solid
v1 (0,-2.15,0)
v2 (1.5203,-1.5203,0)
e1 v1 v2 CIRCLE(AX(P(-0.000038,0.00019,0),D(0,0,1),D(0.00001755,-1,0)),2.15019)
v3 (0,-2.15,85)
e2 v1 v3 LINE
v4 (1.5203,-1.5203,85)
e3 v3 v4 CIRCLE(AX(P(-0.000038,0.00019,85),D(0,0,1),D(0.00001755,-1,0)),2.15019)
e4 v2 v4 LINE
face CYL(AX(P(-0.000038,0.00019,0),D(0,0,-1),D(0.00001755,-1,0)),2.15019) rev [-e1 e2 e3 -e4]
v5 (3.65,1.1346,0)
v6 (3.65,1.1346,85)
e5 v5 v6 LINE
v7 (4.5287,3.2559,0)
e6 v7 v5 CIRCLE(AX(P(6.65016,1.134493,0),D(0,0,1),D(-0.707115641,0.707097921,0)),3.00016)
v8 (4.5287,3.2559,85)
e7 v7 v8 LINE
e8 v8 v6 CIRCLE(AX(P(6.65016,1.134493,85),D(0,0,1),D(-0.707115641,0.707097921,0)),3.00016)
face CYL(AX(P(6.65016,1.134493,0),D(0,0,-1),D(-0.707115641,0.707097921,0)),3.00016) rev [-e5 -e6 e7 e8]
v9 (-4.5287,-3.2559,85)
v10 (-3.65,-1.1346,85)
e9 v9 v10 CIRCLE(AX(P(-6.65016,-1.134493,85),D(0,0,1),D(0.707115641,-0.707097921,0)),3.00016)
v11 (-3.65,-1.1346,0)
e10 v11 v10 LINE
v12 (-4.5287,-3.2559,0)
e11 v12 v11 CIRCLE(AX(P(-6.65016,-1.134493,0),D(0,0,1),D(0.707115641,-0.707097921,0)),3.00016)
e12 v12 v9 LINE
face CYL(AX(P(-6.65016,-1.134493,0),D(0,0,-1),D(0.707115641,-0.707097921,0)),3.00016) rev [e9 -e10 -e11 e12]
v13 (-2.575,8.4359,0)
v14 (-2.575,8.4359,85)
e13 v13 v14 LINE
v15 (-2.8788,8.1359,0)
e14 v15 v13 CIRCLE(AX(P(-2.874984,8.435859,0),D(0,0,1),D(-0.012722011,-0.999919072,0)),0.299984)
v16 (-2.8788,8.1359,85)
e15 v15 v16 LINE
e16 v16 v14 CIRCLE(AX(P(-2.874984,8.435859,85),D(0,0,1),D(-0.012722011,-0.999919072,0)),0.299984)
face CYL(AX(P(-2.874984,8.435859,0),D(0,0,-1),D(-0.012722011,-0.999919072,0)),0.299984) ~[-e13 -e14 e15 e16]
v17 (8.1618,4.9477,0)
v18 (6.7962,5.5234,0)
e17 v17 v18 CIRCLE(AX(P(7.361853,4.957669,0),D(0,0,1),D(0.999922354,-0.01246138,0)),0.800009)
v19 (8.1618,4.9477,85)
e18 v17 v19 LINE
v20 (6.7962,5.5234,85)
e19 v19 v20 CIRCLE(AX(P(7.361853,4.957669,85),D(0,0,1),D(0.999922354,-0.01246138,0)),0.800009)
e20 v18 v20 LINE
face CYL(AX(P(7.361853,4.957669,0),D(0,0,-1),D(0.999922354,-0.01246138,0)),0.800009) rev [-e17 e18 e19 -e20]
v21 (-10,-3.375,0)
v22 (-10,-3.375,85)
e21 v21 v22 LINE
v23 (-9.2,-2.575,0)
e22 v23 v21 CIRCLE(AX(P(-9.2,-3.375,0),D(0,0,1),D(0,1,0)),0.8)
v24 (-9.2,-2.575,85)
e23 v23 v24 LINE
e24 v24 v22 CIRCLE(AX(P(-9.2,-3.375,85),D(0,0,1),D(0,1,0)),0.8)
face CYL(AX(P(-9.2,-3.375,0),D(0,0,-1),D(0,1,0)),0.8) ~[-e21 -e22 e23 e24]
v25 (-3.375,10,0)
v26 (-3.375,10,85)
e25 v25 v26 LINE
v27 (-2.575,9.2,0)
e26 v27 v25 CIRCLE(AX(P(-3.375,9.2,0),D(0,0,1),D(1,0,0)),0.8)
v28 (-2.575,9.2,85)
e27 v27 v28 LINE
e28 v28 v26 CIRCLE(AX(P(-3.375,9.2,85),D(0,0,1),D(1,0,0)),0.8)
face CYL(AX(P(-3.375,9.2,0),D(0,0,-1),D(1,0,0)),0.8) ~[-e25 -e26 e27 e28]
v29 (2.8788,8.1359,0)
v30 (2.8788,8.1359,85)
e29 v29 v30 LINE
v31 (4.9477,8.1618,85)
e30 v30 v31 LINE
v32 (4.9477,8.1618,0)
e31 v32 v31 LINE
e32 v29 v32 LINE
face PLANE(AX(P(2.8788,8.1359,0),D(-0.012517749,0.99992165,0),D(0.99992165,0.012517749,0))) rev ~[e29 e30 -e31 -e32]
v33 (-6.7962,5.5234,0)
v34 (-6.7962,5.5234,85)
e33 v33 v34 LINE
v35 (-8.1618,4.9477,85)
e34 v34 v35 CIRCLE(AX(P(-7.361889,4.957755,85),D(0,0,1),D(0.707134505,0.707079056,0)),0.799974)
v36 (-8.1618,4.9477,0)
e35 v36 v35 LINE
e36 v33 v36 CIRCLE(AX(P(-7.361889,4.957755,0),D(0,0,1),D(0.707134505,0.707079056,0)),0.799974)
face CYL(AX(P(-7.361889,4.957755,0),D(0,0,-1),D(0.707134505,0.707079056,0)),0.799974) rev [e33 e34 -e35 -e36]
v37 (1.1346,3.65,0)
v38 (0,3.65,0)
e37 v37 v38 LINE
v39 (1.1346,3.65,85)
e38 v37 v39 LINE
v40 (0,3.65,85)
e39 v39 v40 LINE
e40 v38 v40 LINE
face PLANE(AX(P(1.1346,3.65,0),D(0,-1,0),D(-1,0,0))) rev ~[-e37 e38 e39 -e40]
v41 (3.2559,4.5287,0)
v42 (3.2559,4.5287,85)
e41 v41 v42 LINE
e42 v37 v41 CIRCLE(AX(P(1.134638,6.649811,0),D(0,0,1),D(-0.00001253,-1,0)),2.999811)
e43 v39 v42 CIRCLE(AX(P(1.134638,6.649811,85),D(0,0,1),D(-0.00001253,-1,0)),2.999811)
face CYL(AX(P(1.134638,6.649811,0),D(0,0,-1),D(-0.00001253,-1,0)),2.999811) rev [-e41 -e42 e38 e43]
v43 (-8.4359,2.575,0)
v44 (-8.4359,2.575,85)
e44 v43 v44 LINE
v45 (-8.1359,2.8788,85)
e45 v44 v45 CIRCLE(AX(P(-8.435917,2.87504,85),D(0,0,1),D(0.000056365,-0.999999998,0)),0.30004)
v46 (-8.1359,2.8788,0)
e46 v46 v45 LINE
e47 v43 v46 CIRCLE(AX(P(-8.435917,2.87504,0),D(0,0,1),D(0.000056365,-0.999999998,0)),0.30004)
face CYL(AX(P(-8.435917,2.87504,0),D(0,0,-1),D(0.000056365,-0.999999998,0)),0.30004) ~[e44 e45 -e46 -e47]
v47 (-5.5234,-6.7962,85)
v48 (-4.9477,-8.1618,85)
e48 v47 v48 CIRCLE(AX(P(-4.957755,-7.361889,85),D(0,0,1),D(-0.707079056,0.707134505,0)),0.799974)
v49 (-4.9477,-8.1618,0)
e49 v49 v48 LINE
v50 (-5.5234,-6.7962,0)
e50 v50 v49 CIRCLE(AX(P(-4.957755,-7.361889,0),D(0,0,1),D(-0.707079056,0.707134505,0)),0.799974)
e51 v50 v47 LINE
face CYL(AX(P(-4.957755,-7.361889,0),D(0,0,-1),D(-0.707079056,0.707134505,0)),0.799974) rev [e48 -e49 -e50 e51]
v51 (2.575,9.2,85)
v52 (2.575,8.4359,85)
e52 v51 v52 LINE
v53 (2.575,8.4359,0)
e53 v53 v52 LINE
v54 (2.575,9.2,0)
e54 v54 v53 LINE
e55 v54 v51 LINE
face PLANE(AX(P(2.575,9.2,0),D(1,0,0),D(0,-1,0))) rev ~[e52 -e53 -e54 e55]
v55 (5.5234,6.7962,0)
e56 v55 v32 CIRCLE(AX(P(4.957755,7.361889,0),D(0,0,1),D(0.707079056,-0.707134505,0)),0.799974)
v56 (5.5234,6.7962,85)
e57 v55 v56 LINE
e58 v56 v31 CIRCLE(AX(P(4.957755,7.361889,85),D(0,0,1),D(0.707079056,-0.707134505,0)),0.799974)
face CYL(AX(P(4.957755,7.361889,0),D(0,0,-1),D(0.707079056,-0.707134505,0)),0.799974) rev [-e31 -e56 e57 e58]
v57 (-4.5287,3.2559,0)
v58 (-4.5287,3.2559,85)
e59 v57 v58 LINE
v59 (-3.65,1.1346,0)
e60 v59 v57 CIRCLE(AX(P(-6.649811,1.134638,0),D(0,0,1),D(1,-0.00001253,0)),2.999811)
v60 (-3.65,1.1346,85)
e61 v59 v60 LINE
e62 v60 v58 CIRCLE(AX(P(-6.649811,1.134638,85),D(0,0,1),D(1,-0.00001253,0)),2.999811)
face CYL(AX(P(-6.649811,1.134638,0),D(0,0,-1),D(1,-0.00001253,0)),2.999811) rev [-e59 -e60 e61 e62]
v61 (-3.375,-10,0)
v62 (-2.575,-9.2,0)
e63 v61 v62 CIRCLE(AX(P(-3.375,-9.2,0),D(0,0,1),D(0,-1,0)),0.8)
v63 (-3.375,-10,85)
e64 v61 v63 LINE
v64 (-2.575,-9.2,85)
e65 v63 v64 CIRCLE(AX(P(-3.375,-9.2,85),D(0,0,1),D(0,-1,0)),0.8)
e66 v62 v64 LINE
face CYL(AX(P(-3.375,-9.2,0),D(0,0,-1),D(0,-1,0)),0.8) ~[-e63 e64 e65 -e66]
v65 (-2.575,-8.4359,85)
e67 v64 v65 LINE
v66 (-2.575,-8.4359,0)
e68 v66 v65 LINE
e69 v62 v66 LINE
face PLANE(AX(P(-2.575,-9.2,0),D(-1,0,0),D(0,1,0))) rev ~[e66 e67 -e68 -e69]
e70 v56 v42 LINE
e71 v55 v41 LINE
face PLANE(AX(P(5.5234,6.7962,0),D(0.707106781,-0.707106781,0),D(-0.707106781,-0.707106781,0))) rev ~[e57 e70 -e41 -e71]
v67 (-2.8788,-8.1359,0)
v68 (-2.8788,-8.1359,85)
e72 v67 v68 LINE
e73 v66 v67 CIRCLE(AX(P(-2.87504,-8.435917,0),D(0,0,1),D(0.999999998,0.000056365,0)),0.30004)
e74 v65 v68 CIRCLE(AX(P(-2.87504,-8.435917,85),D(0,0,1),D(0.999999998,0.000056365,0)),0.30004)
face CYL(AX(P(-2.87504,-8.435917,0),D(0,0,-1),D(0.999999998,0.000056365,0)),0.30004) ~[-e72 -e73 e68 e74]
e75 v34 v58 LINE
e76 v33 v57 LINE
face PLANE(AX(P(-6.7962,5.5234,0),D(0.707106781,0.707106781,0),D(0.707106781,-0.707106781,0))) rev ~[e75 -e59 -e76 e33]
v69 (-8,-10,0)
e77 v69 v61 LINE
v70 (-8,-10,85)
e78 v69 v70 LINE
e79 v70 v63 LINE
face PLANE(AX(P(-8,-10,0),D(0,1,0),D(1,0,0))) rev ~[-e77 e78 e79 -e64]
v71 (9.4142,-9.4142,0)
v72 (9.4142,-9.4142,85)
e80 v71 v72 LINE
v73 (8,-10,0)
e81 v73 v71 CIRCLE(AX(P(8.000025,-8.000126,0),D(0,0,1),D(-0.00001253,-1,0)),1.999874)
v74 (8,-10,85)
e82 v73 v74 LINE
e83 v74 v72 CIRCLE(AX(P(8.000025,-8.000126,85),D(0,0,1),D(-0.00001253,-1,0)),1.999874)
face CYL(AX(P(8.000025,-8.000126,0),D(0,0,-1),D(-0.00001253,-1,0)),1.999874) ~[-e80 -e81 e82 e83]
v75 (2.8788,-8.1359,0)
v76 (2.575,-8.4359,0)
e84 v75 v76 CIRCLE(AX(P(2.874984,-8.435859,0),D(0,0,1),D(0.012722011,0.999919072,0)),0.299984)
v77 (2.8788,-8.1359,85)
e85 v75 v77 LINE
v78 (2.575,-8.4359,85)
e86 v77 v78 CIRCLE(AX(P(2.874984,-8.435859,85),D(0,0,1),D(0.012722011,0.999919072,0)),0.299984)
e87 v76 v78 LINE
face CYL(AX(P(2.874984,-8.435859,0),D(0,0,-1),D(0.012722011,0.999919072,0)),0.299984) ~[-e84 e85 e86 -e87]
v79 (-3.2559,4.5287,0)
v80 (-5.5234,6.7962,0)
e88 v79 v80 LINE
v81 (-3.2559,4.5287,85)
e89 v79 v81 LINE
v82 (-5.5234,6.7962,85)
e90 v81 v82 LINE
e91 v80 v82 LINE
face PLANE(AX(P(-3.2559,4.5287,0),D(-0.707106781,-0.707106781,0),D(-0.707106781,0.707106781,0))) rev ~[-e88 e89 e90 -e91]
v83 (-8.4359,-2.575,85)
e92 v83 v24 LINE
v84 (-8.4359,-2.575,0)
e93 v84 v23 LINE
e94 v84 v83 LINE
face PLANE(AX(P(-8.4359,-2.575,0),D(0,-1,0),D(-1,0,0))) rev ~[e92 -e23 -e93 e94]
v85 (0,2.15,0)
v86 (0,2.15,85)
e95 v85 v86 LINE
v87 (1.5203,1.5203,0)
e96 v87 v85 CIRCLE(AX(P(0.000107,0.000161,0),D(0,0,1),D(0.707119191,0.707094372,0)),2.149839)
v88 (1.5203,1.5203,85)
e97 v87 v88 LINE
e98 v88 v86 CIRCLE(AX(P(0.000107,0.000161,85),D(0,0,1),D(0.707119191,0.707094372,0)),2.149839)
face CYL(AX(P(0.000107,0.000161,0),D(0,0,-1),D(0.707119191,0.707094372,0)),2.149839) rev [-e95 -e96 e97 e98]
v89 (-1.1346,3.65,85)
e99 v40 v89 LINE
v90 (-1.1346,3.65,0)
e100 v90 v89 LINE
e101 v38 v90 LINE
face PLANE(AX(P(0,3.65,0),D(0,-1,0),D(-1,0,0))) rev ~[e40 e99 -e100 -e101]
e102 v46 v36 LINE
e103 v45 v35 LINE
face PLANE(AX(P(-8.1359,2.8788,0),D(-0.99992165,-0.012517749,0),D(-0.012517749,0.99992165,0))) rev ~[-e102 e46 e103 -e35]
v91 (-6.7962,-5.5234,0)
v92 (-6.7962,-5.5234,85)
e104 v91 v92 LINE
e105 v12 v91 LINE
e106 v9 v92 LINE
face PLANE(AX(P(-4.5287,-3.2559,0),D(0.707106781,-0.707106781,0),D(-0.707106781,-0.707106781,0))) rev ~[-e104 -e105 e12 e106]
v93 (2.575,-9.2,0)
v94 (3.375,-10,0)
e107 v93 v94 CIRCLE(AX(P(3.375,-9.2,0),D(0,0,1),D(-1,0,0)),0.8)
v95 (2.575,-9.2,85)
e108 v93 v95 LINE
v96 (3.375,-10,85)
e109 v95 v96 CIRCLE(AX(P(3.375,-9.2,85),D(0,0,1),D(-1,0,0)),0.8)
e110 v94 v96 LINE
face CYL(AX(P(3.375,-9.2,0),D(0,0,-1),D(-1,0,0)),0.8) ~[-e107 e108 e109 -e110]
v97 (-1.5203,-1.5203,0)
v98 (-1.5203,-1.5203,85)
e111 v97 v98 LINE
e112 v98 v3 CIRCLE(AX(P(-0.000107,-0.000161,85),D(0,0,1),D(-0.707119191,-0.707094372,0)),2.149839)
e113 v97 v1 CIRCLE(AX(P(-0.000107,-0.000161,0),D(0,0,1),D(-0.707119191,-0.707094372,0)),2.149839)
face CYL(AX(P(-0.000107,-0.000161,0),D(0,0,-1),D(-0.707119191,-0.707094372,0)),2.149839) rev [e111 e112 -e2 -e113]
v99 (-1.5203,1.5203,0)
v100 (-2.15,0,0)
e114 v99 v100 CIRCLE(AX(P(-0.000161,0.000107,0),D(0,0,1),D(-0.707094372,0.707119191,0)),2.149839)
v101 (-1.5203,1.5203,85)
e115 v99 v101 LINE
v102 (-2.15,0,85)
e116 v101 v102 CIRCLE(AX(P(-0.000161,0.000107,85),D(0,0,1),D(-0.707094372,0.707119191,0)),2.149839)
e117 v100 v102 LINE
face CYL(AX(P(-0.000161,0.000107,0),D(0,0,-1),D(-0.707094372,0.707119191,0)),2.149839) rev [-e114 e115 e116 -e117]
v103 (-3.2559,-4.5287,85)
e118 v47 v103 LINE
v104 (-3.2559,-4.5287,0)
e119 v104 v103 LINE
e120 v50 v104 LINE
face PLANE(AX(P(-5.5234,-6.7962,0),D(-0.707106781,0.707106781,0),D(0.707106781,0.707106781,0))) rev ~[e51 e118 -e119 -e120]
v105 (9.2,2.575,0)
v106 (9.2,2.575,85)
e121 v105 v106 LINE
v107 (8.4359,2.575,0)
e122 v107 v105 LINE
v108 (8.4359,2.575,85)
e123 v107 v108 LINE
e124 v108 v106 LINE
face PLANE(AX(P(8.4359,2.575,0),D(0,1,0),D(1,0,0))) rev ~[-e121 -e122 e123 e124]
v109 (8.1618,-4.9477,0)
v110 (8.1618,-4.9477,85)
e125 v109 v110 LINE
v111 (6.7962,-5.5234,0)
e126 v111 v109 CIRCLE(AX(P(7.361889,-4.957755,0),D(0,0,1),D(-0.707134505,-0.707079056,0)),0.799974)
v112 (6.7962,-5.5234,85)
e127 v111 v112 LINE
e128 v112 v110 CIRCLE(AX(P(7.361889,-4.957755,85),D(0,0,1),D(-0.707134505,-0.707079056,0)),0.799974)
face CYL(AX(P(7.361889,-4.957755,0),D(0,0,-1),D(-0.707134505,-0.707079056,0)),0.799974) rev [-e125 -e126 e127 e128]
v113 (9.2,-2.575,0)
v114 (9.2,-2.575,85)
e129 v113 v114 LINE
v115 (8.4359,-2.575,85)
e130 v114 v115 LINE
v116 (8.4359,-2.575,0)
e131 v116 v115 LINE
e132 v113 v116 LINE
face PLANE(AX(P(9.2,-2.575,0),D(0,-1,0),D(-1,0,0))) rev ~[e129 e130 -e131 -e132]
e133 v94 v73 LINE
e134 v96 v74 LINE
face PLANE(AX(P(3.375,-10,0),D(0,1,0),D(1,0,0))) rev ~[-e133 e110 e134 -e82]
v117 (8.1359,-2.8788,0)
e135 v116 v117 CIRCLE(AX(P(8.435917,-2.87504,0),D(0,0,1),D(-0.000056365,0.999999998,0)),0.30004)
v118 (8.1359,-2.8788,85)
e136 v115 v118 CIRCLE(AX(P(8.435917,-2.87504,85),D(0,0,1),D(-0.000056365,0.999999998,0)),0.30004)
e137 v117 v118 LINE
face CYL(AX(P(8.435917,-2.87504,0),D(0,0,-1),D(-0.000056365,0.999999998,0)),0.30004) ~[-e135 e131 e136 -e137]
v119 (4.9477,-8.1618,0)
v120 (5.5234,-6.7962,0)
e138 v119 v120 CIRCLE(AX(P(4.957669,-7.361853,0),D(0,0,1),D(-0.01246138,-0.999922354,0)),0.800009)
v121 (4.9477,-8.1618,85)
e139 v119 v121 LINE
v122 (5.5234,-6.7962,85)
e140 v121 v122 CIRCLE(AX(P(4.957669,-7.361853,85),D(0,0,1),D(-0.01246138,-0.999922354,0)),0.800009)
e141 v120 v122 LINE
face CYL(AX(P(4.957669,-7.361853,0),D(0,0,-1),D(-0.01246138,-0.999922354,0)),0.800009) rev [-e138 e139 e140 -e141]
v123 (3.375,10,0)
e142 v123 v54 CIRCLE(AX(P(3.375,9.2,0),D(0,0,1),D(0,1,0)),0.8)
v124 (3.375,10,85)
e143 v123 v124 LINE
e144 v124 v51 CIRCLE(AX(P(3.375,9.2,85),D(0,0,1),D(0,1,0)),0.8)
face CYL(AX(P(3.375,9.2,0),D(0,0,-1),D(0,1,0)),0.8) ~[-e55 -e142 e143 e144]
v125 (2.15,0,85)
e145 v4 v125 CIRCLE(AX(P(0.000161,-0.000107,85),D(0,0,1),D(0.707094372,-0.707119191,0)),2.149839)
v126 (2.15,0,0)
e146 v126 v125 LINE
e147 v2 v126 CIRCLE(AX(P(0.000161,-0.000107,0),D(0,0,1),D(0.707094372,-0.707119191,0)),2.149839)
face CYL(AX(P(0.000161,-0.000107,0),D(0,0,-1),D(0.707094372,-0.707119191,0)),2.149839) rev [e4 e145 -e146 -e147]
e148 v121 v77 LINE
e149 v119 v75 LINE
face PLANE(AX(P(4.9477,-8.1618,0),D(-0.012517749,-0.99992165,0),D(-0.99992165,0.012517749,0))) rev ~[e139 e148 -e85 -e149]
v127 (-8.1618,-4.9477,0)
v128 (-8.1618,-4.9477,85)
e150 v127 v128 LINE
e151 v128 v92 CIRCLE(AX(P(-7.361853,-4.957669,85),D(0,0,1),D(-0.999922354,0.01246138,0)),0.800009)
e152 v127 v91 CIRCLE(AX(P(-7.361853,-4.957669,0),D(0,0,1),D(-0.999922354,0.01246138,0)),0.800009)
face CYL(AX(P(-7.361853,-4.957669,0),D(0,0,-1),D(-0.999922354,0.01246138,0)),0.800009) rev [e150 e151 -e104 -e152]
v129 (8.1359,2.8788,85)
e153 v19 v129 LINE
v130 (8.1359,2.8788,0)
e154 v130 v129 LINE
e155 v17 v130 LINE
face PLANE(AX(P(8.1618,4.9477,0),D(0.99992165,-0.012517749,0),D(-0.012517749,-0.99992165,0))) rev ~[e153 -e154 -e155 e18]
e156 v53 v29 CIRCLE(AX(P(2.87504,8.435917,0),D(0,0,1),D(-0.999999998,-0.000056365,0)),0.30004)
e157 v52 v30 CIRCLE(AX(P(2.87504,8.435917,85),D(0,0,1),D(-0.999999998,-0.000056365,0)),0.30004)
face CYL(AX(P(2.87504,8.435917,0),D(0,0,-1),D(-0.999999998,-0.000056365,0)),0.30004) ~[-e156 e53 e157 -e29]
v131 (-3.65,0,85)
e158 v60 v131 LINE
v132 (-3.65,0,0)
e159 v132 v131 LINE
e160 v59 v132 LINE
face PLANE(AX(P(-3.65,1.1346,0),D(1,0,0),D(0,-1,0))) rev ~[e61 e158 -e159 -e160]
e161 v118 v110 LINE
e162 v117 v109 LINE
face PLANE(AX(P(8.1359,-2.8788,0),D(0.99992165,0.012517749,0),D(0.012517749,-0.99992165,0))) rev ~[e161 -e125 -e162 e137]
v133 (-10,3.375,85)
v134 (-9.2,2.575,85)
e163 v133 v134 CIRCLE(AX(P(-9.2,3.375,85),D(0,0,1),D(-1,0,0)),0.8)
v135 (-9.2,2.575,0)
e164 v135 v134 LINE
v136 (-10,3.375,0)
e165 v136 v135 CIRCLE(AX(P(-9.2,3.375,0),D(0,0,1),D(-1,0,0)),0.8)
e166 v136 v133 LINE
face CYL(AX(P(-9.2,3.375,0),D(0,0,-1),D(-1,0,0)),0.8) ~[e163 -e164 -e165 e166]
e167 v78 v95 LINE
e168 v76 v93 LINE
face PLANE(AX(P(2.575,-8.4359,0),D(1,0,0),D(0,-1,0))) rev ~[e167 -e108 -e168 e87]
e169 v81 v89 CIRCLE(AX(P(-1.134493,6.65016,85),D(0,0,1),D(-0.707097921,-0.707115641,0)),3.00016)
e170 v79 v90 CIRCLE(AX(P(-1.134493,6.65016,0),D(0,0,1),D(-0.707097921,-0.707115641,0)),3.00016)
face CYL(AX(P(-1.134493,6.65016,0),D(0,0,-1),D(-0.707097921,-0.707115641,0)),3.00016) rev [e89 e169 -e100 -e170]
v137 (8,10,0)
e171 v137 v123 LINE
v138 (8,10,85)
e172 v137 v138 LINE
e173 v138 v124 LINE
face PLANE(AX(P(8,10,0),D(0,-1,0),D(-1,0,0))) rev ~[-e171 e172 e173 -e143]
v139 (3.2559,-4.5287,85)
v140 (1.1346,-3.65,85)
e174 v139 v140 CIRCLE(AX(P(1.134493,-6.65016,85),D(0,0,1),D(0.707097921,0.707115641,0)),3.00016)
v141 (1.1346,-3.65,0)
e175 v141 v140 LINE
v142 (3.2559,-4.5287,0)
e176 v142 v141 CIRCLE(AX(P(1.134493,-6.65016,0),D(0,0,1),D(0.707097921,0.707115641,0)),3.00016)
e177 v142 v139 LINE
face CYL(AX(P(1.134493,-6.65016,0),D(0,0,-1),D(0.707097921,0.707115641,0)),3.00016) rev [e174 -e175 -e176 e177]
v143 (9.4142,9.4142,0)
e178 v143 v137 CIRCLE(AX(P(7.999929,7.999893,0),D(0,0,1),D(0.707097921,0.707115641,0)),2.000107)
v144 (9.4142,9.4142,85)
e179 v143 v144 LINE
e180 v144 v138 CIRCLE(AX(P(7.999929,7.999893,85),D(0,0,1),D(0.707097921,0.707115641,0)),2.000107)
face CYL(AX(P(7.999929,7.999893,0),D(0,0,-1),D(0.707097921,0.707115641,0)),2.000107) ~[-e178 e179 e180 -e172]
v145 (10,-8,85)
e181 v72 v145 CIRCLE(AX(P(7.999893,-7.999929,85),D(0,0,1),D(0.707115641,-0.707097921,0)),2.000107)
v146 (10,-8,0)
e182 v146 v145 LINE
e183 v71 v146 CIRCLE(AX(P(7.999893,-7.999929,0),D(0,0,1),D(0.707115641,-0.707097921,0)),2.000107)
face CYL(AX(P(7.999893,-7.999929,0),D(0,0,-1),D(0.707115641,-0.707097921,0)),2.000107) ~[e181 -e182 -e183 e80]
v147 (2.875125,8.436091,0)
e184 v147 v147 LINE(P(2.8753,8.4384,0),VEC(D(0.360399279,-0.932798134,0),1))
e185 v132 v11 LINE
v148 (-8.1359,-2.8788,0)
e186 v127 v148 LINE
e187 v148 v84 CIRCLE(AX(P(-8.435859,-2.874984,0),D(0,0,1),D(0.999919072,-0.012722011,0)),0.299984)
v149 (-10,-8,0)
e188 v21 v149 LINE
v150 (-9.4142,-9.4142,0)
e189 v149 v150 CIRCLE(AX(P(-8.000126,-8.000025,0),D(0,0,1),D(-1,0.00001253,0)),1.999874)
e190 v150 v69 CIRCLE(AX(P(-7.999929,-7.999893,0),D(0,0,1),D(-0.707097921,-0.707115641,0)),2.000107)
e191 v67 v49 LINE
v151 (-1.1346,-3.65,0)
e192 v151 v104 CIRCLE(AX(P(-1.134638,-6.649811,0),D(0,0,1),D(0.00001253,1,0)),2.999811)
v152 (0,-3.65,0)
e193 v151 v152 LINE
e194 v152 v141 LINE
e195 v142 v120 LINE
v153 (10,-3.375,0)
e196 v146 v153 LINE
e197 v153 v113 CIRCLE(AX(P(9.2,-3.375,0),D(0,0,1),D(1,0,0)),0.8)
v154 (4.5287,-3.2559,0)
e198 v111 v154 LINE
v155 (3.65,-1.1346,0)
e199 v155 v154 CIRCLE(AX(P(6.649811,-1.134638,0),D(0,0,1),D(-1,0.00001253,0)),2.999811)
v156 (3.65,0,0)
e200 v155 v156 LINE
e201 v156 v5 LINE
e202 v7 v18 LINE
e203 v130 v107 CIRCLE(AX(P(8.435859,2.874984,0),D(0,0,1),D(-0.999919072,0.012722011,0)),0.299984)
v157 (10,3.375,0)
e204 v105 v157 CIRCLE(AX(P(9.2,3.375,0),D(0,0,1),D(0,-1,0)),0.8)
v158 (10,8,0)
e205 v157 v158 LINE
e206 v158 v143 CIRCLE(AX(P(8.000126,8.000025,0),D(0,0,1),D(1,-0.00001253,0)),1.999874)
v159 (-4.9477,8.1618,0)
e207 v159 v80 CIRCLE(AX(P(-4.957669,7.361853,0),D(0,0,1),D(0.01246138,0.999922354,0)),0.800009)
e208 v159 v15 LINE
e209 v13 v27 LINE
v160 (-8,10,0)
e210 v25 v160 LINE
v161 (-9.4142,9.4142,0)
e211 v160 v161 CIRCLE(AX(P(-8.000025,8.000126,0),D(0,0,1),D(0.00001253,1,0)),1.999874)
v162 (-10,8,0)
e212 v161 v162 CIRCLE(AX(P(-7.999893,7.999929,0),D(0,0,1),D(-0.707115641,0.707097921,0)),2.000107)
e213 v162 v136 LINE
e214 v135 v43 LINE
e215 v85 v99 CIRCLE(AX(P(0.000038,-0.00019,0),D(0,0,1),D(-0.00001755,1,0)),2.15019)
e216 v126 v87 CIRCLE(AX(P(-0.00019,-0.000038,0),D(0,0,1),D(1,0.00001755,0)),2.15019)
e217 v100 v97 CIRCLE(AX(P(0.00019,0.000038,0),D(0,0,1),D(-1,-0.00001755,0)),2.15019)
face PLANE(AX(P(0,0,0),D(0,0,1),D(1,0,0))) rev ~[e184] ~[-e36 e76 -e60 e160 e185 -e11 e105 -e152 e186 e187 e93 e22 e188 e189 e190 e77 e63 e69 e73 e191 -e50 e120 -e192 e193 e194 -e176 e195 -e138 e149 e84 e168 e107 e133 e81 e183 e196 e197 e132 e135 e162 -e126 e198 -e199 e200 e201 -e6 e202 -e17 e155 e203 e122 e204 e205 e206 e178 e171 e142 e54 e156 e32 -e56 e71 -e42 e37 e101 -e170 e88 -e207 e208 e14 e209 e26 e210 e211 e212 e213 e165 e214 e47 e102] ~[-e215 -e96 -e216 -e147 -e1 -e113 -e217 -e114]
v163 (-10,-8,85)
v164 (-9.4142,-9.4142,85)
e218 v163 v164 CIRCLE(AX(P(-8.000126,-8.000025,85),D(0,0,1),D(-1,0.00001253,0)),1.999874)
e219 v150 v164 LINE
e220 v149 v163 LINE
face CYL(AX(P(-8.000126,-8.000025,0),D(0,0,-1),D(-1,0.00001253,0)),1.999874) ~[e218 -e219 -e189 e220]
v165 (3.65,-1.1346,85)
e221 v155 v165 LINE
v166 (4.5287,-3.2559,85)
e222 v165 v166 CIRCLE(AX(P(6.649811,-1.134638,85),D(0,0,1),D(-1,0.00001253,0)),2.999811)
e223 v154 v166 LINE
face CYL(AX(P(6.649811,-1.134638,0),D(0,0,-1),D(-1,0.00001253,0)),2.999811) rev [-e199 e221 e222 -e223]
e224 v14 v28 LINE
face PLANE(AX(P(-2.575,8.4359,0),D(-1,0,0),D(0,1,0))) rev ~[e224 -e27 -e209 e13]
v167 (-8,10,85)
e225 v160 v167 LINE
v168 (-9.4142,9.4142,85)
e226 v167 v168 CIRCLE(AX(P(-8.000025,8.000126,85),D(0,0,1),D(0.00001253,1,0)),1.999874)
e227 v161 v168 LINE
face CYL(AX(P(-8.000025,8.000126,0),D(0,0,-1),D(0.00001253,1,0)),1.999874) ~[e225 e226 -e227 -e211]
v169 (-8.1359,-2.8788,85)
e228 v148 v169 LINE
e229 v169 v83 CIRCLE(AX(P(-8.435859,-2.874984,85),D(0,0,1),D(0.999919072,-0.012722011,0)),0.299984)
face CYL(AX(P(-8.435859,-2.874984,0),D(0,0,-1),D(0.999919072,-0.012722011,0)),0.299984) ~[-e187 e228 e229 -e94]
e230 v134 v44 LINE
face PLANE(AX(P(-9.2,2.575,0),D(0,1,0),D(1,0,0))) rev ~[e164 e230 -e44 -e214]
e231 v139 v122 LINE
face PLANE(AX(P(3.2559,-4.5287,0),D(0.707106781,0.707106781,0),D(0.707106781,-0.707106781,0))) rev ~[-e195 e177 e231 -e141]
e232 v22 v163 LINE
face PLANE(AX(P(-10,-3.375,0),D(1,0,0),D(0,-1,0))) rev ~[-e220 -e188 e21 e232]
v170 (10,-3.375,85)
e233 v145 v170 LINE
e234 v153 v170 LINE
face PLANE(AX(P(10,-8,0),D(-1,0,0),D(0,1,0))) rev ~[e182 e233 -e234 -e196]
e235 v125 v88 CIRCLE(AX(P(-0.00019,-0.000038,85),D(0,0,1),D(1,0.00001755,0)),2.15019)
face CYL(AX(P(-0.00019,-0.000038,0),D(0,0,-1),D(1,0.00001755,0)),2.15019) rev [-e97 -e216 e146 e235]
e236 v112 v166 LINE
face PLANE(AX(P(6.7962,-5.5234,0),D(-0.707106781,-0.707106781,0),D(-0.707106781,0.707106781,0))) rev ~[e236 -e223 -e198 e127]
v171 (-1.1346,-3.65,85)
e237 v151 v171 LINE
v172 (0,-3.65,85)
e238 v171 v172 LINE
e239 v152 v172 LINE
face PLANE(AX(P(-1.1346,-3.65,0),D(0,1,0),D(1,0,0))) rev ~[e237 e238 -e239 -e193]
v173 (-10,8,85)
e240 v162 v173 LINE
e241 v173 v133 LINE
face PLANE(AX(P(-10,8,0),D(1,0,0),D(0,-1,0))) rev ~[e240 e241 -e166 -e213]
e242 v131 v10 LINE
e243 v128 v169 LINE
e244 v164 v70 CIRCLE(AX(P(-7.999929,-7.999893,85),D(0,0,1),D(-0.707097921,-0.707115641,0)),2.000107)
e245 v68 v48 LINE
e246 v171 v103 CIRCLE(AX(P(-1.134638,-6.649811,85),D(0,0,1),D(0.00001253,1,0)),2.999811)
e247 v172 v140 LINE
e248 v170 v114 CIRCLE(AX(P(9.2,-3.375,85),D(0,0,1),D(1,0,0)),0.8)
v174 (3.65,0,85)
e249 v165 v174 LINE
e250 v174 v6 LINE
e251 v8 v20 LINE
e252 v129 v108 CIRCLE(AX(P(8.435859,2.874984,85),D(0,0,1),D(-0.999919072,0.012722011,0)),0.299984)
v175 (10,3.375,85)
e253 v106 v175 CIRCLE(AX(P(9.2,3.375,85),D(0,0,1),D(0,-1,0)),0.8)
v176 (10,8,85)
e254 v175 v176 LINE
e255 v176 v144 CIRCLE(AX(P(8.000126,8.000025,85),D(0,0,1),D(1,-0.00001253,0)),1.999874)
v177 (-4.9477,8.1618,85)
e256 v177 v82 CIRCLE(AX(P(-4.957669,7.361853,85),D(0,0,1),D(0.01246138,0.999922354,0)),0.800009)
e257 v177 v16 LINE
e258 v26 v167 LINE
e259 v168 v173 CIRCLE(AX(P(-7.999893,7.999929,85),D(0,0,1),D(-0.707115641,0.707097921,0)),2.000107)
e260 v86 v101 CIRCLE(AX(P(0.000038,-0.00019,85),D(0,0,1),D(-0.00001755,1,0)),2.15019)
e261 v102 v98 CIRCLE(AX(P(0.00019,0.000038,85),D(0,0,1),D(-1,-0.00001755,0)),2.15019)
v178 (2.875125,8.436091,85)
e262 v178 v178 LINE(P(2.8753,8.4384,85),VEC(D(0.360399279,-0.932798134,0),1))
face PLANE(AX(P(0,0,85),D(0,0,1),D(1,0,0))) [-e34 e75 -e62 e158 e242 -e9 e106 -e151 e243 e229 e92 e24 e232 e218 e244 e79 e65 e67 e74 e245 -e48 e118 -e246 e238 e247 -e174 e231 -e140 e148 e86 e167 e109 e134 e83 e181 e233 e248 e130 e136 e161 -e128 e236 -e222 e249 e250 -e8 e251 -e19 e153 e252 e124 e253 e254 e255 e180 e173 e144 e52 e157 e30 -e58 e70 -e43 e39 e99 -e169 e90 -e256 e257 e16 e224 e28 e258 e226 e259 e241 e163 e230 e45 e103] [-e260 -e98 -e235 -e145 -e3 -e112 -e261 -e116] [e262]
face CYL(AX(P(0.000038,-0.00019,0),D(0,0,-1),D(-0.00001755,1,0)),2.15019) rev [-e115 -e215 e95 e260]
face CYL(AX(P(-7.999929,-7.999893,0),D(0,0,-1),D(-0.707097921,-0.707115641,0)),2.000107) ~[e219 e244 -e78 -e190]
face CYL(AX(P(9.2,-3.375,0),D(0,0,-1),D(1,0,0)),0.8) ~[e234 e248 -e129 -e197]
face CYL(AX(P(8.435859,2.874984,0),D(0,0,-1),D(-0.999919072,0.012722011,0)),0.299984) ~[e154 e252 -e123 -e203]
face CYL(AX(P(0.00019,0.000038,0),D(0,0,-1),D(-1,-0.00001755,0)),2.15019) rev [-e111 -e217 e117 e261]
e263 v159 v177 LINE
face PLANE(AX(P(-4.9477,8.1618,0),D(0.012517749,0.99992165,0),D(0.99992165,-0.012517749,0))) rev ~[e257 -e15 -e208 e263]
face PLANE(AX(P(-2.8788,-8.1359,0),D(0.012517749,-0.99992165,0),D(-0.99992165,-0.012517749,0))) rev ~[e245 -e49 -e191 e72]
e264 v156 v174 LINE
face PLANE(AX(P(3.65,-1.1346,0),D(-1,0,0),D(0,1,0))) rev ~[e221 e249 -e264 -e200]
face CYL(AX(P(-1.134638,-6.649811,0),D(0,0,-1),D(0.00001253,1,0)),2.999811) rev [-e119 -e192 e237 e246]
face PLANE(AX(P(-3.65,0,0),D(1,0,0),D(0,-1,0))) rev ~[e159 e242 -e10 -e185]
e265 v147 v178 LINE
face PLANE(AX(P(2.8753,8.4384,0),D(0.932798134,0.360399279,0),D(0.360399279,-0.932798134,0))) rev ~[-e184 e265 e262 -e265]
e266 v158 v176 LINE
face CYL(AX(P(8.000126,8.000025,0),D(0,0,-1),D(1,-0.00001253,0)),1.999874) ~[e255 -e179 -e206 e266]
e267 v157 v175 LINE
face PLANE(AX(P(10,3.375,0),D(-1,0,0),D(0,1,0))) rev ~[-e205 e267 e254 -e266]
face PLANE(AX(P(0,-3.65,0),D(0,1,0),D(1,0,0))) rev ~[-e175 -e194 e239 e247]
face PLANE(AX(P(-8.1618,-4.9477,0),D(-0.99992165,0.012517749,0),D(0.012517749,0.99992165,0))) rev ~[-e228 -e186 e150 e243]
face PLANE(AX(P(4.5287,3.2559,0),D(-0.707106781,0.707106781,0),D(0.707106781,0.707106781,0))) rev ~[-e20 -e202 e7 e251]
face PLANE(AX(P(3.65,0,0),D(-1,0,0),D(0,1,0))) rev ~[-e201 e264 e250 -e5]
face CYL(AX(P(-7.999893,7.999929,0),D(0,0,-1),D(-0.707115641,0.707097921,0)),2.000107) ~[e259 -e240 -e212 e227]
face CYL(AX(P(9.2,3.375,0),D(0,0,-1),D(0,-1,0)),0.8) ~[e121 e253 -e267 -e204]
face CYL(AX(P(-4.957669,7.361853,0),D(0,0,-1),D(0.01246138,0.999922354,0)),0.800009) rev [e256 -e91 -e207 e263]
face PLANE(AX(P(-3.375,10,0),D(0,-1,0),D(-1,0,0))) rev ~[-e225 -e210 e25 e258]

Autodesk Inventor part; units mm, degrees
ref_plane "YZ Plane" through (0, 0, 0) normal (1, 0, 0) x (0, 1, 0)
ref_plane "Endebene" through (0, 0, 85) normal (0, 0, 1) x (1, 0, 0)
ref_plane "Startebene" through (0, 0, 0) normal (0, 0, 1) x (1, 0, 0)
sketch "Skizze1" plane through (0, 0, 0) normal (0, 0, 1) x (1, 0, 0)
  line L0 (2.8753, 8.4384) -> (2.877, 8.434)
  line L1 (2.8747, 8.4384) -> (2.8753, 8.4384)
  line L2 (2.877, 8.434) -> (2.877, 8.4368)
  line L3 (2.873, 8.434) -> (2.8747, 8.4384)
  line L4 (2.877, 8.4368) -> (2.8776, 8.4368)
  line L5 (2.8715, 8.434) -> (2.873, 8.434)
  line L6 (2.8776, 8.4368) -> (2.8776, 8.436)
  arc A0 (2.8706, 8.4349) -> (2.8715, 8.434) centre (2.8715, 8.4349) ccw
  line L7 (2.8776, 8.436) -> (2.8785, 8.436)
  line L8 (2.8706, 8.4369) -> (2.8706, 8.4349)
  arc A1 (2.8785, 8.436) -> (2.8785, 8.4378) centre (2.8785, 8.4369) ccw
  arc A2 (2.8715, 8.4378) -> (2.8706, 8.4369) centre (2.8715, 8.4369) ccw
  line L9 (2.8785, 8.4378) -> (2.8776, 8.4378)
  line L10 (2.873, 8.4378) -> (2.8715, 8.4378)
  line L11 (2.8776, 8.4378) -> (2.8776, 8.4369)
  line L12 (2.873, 8.4384) -> (2.873, 8.4378)
  line L13 (2.8776, 8.4369) -> (2.877, 8.4369)
  line L14 (2.8715, 8.4384) -> (2.873, 8.4384)
  line L15 (2.877, 8.4369) -> (2.877, 8.4384)
  arc A3 (2.8715, 8.4384) -> (2.87, 8.4369) centre (2.8715, 8.4369) ccw
  line L16 (2.877, 8.4384) -> (2.8785, 8.4384)
  line L17 (2.87, 8.4349) -> (2.87, 8.4369)
  arc A4 (2.8785, 8.4354) -> (2.8785, 8.4384) centre (2.8785, 8.4369) ccw
  arc A5 (2.87, 8.4349) -> (2.8715, 8.4334) centre (2.8715, 8.4349) ccw
  line L18 (2.8785, 8.4354) -> (2.8776, 8.4354)
  line L19 (2.8734, 8.4334) -> (2.8715, 8.4334)
  line L20 (2.8776, 8.4354) -> (2.8776, 8.4334)
  line L21 (2.8742, 8.4354) -> (2.8734, 8.4334)
  line L22 (2.8776, 8.4334) -> (2.8766, 8.4334)
  line L23 (2.875, 8.4354) -> (2.8742, 8.4354)
  line L24 (2.8766, 8.4334) -> (2.8758, 8.4354)
  line L25 (2.875, 8.436) -> (2.875, 8.4354)
  line L26 (2.8758, 8.4354) -> (2.8751, 8.4354)
  line L27 (2.8744, 8.436) -> (2.875, 8.436)
  line L28 (2.8751, 8.4354) -> (2.8751, 8.436)
  line L29 (2.875, 8.4375) -> (2.8744, 8.436)
  line L30 (2.8751, 8.436) -> (2.8756, 8.436)
  line L31 (2.8756, 8.436) -> (2.875, 8.4375)
  arc A6 (-9.4142, 9.4142) -> (-10, 8) centre (-8, 8) ccw
  line L32 (-10, 8) -> (-10, 3.375)
  arc A7 (-10, 3.375) -> (-9.2, 2.575) centre (-9.2, 3.375) ccw
  line L33 (-9.2, 2.575) -> (-8.4359, 2.575)
  arc A8 (-8.4359, 2.575) -> (-8.1359, 2.8788) centre (-8.4359, 2.875) ccw
  line L34 (-8.1359, 2.8788) -> (-8.1618, 4.9477)
  arc A9 (-6.7962, 5.5234) -> (-8.1618, 4.9477) centre (-7.3619, 4.9577) ccw
  line L35 (-6.7962, 5.5234) -> (-4.5287, 3.2559)
  arc A10 (-3.65, 1.1346) -> (-4.5287, 3.2559) centre (-6.65, 1.1346) ccw
  line L36 (-3.65, 1.1346) -> (-3.65, 0)
  line L37 (-3.65, 0) -> (-3.65, -1.1346)
  arc A11 (-4.5287, -3.2559) -> (-3.65, -1.1346) centre (-6.65, -1.1346) ccw
  line L38 (-4.5287, -3.2559) -> (-6.7962, -5.5234)
  arc A12 (-8.1618, -4.9477) -> (-6.7962, -5.5234) centre (-7.3619, -4.9577) ccw
  line L39 (-8.1618, -4.9477) -> (-8.1359, -2.8788)
  arc A13 (-8.1359, -2.8788) -> (-8.4359, -2.575) centre (-8.4359, -2.875) ccw
  line L40 (-8.4359, -2.575) -> (-9.2, -2.575)
  arc A14 (-9.2, -2.575) -> (-10, -3.375) centre (-9.2, -3.375) ccw
  line L41 (-10, -3.375) -> (-10, -8)
  arc A15 (-10, -8) -> (-9.4142, -9.4142) centre (-8, -8) ccw
  arc A16 (-9.4142, -9.4142) -> (-8, -10) centre (-8, -8) ccw
  line L42 (-8, -10) -> (-3.375, -10)
  arc A17 (-3.375, -10) -> (-2.575, -9.2) centre (-3.375, -9.2) ccw
  line L43 (-2.575, -9.2) -> (-2.575, -8.4359)
  arc A18 (-2.575, -8.4359) -> (-2.8788, -8.1359) centre (-2.875, -8.4359) ccw
  line L44 (-2.8788, -8.1359) -> (-4.9477, -8.1618)
  arc A19 (-5.5234, -6.7962) -> (-4.9477, -8.1618) centre (-4.9577, -7.3619) ccw
  line L45 (-5.5234, -6.7962) -> (-3.2559, -4.5287)
  arc A20 (-1.1346, -3.65) -> (-3.2559, -4.5287) centre (-1.1346, -6.65) ccw
  line L46 (-1.1346, -3.65) -> (0, -3.65)
  line L47 (0, -3.65) -> (1.1346, -3.65)
  arc A21 (3.2559, -4.5287) -> (1.1346, -3.65) centre (1.1346, -6.65) ccw
  line L48 (3.2559, -4.5287) -> (5.5234, -6.7962)
  arc A22 (4.9477, -8.1618) -> (5.5234, -6.7962) centre (4.9577, -7.3619) ccw
  line L49 (4.9477, -8.1618) -> (2.8788, -8.1359)
  arc A23 (2.8788, -8.1359) -> (2.575, -8.4359) centre (2.875, -8.4359) ccw
  line L50 (2.575, -8.4359) -> (2.575, -9.2)
  arc A24 (2.575, -9.2) -> (3.375, -10) centre (3.375, -9.2) ccw
  line L51 (3.375, -10) -> (8, -10)
  arc A25 (8, -10) -> (9.4142, -9.4142) centre (8, -8) ccw
  arc A26 (9.4142, -9.4142) -> (10, -8) centre (8, -8) ccw
  line L52 (10, -8) -> (10, -3.375)
  arc A27 (10, -3.375) -> (9.2, -2.575) centre (9.2, -3.375) ccw
  line L53 (9.2, -2.575) -> (8.4359, -2.575)
  arc A28 (8.4359, -2.575) -> (8.1359, -2.8788) centre (8.4359, -2.875) ccw
  line L54 (8.1359, -2.8788) -> (8.1618, -4.9477)
  arc A29 (6.7962, -5.5234) -> (8.1618, -4.9477) centre (7.3619, -4.9577) ccw
  line L55 (6.7962, -5.5234) -> (4.5287, -3.2559)
  arc A30 (3.65, -1.1346) -> (4.5287, -3.2559) centre (6.65, -1.1346) ccw
  line L56 (3.65, -1.1346) -> (3.65, 0)
  line L57 (3.65, 0) -> (3.65, 1.1346)
  arc A31 (4.5287, 3.2559) -> (3.65, 1.1346) centre (6.65, 1.1346) ccw
  line L58 (4.5287, 3.2559) -> (6.7962, 5.5234)
  arc A32 (8.1618, 4.9477) -> (6.7962, 5.5234) centre (7.3619, 4.9577) ccw
  line L59 (8.1618, 4.9477) -> (8.1359, 2.8788)
  arc A33 (8.1359, 2.8788) -> (8.4359, 2.575) centre (8.4359, 2.875) ccw
  line L60 (8.4359, 2.575) -> (9.2, 2.575)
  arc A34 (9.2, 2.575) -> (10, 3.375) centre (9.2, 3.375) ccw
  line L61 (10, 3.375) -> (10, 8)
  arc A35 (10, 8) -> (9.4142, 9.4142) centre (8, 8) ccw
  arc A36 (9.4142, 9.4142) -> (8, 10) centre (8, 8) ccw
  line L62 (8, 10) -> (3.375, 10)
  arc A37 (3.375, 10) -> (2.575, 9.2) centre (3.375, 9.2) ccw
  line L63 (2.575, 9.2) -> (2.575, 8.4359)
  arc A38 (2.575, 8.4359) -> (2.8788, 8.1359) centre (2.875, 8.4359) ccw
  line L64 (2.8788, 8.1359) -> (4.9477, 8.1618)
  arc A39 (5.5234, 6.7962) -> (4.9477, 8.1618) centre (4.9577, 7.3619) ccw
  line L65 (5.5234, 6.7962) -> (3.2559, 4.5287)
  arc A40 (1.1346, 3.65) -> (3.2559, 4.5287) centre (1.1346, 6.65) ccw
  line L66 (1.1346, 3.65) -> (0, 3.65)
  line L67 (0, 3.65) -> (-1.1346, 3.65)
  arc A41 (-3.2559, 4.5287) -> (-1.1346, 3.65) centre (-1.1346, 6.65) ccw
  line L68 (-3.2559, 4.5287) -> (-5.5234, 6.7962)
  arc A42 (-4.9477, 8.1618) -> (-5.5234, 6.7962) centre (-4.9577, 7.3619) ccw
  line L69 (-4.9477, 8.1618) -> (-2.8788, 8.1359)
  arc A43 (-2.8788, 8.1359) -> (-2.575, 8.4359) centre (-2.875, 8.4359) ccw
  line L70 (-2.575, 8.4359) -> (-2.575, 9.2)
  arc A44 (-2.575, 9.2) -> (-3.375, 10) centre (-3.375, 9.2) ccw
  line L71 (-3.375, 10) -> (-8, 10)
  arc A45 (-8, 10) -> (-9.4142, 9.4142) centre (-8, 8) ccw
  arc A46 (-2.15, 0) -> (-1.5203, -1.5203) centre (0, 0) ccw
  arc A47 (-1.5203, -1.5203) -> (0, -2.15) centre (0, 0) ccw
  arc A48 (0, -2.15) -> (1.5203, -1.5203) centre (0, 0) ccw
  arc A49 (1.5203, -1.5203) -> (2.15, 0) centre (0, 0) ccw
  arc A50 (2.15, 0) -> (1.5203, 1.5203) centre (0, 0) ccw
  arc A51 (1.5203, 1.5203) -> (0, 2.15) centre (0, 0) ccw
  arc A52 (0, 2.15) -> (-1.5203, 1.5203) centre (0, 0) ccw
  arc A53 (-1.5203, 1.5203) -> (-2.15, 0) centre (0, 0) ccw
extrude "Körper" add sketch "Skizze1" along normal up to surface (85 mm away) from surface at 0 contours A45 L71 A44 L70 A43 L69 A42 L68 A41 L67 L66 A40 L65 A39 L64 A38 L63 A37 L62 A36 A35 L61 A34 L60 A33 L59 A32 L58 A31 L57 L56 A30 L55 A29 L54 A28 L53 A27 L52 A26 A25 L51 A24 L50 A23 L49 A22 L48 A21 L47 L46 A20 L45 A19 L44 A18 L43 A17 L42 A16 A15 L41 A14 L40 A13 L39 A12 L38 A11 L37 L36 A10 L35 A9 L34 A8 L33 A7 L32 A6
sketch "Skizze2" plane through (0, 0, 0) normal (0, 0, 1) x (1, 0, 0)
  line L0 (0, 0) -> (10, 0)
ref_plane "Arbeitsebene3" through (0, 0, 0) normal (0, -1, 0) x (1, 0, 0)
sketch "Skizze3" plane through (0, 0, 0) normal (0, -1, 0) x (1, 0, 0)
  line L0 (-2, 0) -> (12, 0)
  line L1 (-2, 85) -> (12, 85)
  dimension "d7" = 85
equation "\"G_OFFSET_START\" = 0"
equation "\"G_OFFSET_END\" = 0"
equation "\"d3\" = L0 + G_OFFSET_END"
equation "\"G_L\" = d7"
equation "\"L0\" = 85"
properties part number "CAP 0_0_370_03_000   Profil 5  20x20 natur" material "Al Mg Si 0,5 F 25     3.3206.72  warmausgehärtet (natur)"
